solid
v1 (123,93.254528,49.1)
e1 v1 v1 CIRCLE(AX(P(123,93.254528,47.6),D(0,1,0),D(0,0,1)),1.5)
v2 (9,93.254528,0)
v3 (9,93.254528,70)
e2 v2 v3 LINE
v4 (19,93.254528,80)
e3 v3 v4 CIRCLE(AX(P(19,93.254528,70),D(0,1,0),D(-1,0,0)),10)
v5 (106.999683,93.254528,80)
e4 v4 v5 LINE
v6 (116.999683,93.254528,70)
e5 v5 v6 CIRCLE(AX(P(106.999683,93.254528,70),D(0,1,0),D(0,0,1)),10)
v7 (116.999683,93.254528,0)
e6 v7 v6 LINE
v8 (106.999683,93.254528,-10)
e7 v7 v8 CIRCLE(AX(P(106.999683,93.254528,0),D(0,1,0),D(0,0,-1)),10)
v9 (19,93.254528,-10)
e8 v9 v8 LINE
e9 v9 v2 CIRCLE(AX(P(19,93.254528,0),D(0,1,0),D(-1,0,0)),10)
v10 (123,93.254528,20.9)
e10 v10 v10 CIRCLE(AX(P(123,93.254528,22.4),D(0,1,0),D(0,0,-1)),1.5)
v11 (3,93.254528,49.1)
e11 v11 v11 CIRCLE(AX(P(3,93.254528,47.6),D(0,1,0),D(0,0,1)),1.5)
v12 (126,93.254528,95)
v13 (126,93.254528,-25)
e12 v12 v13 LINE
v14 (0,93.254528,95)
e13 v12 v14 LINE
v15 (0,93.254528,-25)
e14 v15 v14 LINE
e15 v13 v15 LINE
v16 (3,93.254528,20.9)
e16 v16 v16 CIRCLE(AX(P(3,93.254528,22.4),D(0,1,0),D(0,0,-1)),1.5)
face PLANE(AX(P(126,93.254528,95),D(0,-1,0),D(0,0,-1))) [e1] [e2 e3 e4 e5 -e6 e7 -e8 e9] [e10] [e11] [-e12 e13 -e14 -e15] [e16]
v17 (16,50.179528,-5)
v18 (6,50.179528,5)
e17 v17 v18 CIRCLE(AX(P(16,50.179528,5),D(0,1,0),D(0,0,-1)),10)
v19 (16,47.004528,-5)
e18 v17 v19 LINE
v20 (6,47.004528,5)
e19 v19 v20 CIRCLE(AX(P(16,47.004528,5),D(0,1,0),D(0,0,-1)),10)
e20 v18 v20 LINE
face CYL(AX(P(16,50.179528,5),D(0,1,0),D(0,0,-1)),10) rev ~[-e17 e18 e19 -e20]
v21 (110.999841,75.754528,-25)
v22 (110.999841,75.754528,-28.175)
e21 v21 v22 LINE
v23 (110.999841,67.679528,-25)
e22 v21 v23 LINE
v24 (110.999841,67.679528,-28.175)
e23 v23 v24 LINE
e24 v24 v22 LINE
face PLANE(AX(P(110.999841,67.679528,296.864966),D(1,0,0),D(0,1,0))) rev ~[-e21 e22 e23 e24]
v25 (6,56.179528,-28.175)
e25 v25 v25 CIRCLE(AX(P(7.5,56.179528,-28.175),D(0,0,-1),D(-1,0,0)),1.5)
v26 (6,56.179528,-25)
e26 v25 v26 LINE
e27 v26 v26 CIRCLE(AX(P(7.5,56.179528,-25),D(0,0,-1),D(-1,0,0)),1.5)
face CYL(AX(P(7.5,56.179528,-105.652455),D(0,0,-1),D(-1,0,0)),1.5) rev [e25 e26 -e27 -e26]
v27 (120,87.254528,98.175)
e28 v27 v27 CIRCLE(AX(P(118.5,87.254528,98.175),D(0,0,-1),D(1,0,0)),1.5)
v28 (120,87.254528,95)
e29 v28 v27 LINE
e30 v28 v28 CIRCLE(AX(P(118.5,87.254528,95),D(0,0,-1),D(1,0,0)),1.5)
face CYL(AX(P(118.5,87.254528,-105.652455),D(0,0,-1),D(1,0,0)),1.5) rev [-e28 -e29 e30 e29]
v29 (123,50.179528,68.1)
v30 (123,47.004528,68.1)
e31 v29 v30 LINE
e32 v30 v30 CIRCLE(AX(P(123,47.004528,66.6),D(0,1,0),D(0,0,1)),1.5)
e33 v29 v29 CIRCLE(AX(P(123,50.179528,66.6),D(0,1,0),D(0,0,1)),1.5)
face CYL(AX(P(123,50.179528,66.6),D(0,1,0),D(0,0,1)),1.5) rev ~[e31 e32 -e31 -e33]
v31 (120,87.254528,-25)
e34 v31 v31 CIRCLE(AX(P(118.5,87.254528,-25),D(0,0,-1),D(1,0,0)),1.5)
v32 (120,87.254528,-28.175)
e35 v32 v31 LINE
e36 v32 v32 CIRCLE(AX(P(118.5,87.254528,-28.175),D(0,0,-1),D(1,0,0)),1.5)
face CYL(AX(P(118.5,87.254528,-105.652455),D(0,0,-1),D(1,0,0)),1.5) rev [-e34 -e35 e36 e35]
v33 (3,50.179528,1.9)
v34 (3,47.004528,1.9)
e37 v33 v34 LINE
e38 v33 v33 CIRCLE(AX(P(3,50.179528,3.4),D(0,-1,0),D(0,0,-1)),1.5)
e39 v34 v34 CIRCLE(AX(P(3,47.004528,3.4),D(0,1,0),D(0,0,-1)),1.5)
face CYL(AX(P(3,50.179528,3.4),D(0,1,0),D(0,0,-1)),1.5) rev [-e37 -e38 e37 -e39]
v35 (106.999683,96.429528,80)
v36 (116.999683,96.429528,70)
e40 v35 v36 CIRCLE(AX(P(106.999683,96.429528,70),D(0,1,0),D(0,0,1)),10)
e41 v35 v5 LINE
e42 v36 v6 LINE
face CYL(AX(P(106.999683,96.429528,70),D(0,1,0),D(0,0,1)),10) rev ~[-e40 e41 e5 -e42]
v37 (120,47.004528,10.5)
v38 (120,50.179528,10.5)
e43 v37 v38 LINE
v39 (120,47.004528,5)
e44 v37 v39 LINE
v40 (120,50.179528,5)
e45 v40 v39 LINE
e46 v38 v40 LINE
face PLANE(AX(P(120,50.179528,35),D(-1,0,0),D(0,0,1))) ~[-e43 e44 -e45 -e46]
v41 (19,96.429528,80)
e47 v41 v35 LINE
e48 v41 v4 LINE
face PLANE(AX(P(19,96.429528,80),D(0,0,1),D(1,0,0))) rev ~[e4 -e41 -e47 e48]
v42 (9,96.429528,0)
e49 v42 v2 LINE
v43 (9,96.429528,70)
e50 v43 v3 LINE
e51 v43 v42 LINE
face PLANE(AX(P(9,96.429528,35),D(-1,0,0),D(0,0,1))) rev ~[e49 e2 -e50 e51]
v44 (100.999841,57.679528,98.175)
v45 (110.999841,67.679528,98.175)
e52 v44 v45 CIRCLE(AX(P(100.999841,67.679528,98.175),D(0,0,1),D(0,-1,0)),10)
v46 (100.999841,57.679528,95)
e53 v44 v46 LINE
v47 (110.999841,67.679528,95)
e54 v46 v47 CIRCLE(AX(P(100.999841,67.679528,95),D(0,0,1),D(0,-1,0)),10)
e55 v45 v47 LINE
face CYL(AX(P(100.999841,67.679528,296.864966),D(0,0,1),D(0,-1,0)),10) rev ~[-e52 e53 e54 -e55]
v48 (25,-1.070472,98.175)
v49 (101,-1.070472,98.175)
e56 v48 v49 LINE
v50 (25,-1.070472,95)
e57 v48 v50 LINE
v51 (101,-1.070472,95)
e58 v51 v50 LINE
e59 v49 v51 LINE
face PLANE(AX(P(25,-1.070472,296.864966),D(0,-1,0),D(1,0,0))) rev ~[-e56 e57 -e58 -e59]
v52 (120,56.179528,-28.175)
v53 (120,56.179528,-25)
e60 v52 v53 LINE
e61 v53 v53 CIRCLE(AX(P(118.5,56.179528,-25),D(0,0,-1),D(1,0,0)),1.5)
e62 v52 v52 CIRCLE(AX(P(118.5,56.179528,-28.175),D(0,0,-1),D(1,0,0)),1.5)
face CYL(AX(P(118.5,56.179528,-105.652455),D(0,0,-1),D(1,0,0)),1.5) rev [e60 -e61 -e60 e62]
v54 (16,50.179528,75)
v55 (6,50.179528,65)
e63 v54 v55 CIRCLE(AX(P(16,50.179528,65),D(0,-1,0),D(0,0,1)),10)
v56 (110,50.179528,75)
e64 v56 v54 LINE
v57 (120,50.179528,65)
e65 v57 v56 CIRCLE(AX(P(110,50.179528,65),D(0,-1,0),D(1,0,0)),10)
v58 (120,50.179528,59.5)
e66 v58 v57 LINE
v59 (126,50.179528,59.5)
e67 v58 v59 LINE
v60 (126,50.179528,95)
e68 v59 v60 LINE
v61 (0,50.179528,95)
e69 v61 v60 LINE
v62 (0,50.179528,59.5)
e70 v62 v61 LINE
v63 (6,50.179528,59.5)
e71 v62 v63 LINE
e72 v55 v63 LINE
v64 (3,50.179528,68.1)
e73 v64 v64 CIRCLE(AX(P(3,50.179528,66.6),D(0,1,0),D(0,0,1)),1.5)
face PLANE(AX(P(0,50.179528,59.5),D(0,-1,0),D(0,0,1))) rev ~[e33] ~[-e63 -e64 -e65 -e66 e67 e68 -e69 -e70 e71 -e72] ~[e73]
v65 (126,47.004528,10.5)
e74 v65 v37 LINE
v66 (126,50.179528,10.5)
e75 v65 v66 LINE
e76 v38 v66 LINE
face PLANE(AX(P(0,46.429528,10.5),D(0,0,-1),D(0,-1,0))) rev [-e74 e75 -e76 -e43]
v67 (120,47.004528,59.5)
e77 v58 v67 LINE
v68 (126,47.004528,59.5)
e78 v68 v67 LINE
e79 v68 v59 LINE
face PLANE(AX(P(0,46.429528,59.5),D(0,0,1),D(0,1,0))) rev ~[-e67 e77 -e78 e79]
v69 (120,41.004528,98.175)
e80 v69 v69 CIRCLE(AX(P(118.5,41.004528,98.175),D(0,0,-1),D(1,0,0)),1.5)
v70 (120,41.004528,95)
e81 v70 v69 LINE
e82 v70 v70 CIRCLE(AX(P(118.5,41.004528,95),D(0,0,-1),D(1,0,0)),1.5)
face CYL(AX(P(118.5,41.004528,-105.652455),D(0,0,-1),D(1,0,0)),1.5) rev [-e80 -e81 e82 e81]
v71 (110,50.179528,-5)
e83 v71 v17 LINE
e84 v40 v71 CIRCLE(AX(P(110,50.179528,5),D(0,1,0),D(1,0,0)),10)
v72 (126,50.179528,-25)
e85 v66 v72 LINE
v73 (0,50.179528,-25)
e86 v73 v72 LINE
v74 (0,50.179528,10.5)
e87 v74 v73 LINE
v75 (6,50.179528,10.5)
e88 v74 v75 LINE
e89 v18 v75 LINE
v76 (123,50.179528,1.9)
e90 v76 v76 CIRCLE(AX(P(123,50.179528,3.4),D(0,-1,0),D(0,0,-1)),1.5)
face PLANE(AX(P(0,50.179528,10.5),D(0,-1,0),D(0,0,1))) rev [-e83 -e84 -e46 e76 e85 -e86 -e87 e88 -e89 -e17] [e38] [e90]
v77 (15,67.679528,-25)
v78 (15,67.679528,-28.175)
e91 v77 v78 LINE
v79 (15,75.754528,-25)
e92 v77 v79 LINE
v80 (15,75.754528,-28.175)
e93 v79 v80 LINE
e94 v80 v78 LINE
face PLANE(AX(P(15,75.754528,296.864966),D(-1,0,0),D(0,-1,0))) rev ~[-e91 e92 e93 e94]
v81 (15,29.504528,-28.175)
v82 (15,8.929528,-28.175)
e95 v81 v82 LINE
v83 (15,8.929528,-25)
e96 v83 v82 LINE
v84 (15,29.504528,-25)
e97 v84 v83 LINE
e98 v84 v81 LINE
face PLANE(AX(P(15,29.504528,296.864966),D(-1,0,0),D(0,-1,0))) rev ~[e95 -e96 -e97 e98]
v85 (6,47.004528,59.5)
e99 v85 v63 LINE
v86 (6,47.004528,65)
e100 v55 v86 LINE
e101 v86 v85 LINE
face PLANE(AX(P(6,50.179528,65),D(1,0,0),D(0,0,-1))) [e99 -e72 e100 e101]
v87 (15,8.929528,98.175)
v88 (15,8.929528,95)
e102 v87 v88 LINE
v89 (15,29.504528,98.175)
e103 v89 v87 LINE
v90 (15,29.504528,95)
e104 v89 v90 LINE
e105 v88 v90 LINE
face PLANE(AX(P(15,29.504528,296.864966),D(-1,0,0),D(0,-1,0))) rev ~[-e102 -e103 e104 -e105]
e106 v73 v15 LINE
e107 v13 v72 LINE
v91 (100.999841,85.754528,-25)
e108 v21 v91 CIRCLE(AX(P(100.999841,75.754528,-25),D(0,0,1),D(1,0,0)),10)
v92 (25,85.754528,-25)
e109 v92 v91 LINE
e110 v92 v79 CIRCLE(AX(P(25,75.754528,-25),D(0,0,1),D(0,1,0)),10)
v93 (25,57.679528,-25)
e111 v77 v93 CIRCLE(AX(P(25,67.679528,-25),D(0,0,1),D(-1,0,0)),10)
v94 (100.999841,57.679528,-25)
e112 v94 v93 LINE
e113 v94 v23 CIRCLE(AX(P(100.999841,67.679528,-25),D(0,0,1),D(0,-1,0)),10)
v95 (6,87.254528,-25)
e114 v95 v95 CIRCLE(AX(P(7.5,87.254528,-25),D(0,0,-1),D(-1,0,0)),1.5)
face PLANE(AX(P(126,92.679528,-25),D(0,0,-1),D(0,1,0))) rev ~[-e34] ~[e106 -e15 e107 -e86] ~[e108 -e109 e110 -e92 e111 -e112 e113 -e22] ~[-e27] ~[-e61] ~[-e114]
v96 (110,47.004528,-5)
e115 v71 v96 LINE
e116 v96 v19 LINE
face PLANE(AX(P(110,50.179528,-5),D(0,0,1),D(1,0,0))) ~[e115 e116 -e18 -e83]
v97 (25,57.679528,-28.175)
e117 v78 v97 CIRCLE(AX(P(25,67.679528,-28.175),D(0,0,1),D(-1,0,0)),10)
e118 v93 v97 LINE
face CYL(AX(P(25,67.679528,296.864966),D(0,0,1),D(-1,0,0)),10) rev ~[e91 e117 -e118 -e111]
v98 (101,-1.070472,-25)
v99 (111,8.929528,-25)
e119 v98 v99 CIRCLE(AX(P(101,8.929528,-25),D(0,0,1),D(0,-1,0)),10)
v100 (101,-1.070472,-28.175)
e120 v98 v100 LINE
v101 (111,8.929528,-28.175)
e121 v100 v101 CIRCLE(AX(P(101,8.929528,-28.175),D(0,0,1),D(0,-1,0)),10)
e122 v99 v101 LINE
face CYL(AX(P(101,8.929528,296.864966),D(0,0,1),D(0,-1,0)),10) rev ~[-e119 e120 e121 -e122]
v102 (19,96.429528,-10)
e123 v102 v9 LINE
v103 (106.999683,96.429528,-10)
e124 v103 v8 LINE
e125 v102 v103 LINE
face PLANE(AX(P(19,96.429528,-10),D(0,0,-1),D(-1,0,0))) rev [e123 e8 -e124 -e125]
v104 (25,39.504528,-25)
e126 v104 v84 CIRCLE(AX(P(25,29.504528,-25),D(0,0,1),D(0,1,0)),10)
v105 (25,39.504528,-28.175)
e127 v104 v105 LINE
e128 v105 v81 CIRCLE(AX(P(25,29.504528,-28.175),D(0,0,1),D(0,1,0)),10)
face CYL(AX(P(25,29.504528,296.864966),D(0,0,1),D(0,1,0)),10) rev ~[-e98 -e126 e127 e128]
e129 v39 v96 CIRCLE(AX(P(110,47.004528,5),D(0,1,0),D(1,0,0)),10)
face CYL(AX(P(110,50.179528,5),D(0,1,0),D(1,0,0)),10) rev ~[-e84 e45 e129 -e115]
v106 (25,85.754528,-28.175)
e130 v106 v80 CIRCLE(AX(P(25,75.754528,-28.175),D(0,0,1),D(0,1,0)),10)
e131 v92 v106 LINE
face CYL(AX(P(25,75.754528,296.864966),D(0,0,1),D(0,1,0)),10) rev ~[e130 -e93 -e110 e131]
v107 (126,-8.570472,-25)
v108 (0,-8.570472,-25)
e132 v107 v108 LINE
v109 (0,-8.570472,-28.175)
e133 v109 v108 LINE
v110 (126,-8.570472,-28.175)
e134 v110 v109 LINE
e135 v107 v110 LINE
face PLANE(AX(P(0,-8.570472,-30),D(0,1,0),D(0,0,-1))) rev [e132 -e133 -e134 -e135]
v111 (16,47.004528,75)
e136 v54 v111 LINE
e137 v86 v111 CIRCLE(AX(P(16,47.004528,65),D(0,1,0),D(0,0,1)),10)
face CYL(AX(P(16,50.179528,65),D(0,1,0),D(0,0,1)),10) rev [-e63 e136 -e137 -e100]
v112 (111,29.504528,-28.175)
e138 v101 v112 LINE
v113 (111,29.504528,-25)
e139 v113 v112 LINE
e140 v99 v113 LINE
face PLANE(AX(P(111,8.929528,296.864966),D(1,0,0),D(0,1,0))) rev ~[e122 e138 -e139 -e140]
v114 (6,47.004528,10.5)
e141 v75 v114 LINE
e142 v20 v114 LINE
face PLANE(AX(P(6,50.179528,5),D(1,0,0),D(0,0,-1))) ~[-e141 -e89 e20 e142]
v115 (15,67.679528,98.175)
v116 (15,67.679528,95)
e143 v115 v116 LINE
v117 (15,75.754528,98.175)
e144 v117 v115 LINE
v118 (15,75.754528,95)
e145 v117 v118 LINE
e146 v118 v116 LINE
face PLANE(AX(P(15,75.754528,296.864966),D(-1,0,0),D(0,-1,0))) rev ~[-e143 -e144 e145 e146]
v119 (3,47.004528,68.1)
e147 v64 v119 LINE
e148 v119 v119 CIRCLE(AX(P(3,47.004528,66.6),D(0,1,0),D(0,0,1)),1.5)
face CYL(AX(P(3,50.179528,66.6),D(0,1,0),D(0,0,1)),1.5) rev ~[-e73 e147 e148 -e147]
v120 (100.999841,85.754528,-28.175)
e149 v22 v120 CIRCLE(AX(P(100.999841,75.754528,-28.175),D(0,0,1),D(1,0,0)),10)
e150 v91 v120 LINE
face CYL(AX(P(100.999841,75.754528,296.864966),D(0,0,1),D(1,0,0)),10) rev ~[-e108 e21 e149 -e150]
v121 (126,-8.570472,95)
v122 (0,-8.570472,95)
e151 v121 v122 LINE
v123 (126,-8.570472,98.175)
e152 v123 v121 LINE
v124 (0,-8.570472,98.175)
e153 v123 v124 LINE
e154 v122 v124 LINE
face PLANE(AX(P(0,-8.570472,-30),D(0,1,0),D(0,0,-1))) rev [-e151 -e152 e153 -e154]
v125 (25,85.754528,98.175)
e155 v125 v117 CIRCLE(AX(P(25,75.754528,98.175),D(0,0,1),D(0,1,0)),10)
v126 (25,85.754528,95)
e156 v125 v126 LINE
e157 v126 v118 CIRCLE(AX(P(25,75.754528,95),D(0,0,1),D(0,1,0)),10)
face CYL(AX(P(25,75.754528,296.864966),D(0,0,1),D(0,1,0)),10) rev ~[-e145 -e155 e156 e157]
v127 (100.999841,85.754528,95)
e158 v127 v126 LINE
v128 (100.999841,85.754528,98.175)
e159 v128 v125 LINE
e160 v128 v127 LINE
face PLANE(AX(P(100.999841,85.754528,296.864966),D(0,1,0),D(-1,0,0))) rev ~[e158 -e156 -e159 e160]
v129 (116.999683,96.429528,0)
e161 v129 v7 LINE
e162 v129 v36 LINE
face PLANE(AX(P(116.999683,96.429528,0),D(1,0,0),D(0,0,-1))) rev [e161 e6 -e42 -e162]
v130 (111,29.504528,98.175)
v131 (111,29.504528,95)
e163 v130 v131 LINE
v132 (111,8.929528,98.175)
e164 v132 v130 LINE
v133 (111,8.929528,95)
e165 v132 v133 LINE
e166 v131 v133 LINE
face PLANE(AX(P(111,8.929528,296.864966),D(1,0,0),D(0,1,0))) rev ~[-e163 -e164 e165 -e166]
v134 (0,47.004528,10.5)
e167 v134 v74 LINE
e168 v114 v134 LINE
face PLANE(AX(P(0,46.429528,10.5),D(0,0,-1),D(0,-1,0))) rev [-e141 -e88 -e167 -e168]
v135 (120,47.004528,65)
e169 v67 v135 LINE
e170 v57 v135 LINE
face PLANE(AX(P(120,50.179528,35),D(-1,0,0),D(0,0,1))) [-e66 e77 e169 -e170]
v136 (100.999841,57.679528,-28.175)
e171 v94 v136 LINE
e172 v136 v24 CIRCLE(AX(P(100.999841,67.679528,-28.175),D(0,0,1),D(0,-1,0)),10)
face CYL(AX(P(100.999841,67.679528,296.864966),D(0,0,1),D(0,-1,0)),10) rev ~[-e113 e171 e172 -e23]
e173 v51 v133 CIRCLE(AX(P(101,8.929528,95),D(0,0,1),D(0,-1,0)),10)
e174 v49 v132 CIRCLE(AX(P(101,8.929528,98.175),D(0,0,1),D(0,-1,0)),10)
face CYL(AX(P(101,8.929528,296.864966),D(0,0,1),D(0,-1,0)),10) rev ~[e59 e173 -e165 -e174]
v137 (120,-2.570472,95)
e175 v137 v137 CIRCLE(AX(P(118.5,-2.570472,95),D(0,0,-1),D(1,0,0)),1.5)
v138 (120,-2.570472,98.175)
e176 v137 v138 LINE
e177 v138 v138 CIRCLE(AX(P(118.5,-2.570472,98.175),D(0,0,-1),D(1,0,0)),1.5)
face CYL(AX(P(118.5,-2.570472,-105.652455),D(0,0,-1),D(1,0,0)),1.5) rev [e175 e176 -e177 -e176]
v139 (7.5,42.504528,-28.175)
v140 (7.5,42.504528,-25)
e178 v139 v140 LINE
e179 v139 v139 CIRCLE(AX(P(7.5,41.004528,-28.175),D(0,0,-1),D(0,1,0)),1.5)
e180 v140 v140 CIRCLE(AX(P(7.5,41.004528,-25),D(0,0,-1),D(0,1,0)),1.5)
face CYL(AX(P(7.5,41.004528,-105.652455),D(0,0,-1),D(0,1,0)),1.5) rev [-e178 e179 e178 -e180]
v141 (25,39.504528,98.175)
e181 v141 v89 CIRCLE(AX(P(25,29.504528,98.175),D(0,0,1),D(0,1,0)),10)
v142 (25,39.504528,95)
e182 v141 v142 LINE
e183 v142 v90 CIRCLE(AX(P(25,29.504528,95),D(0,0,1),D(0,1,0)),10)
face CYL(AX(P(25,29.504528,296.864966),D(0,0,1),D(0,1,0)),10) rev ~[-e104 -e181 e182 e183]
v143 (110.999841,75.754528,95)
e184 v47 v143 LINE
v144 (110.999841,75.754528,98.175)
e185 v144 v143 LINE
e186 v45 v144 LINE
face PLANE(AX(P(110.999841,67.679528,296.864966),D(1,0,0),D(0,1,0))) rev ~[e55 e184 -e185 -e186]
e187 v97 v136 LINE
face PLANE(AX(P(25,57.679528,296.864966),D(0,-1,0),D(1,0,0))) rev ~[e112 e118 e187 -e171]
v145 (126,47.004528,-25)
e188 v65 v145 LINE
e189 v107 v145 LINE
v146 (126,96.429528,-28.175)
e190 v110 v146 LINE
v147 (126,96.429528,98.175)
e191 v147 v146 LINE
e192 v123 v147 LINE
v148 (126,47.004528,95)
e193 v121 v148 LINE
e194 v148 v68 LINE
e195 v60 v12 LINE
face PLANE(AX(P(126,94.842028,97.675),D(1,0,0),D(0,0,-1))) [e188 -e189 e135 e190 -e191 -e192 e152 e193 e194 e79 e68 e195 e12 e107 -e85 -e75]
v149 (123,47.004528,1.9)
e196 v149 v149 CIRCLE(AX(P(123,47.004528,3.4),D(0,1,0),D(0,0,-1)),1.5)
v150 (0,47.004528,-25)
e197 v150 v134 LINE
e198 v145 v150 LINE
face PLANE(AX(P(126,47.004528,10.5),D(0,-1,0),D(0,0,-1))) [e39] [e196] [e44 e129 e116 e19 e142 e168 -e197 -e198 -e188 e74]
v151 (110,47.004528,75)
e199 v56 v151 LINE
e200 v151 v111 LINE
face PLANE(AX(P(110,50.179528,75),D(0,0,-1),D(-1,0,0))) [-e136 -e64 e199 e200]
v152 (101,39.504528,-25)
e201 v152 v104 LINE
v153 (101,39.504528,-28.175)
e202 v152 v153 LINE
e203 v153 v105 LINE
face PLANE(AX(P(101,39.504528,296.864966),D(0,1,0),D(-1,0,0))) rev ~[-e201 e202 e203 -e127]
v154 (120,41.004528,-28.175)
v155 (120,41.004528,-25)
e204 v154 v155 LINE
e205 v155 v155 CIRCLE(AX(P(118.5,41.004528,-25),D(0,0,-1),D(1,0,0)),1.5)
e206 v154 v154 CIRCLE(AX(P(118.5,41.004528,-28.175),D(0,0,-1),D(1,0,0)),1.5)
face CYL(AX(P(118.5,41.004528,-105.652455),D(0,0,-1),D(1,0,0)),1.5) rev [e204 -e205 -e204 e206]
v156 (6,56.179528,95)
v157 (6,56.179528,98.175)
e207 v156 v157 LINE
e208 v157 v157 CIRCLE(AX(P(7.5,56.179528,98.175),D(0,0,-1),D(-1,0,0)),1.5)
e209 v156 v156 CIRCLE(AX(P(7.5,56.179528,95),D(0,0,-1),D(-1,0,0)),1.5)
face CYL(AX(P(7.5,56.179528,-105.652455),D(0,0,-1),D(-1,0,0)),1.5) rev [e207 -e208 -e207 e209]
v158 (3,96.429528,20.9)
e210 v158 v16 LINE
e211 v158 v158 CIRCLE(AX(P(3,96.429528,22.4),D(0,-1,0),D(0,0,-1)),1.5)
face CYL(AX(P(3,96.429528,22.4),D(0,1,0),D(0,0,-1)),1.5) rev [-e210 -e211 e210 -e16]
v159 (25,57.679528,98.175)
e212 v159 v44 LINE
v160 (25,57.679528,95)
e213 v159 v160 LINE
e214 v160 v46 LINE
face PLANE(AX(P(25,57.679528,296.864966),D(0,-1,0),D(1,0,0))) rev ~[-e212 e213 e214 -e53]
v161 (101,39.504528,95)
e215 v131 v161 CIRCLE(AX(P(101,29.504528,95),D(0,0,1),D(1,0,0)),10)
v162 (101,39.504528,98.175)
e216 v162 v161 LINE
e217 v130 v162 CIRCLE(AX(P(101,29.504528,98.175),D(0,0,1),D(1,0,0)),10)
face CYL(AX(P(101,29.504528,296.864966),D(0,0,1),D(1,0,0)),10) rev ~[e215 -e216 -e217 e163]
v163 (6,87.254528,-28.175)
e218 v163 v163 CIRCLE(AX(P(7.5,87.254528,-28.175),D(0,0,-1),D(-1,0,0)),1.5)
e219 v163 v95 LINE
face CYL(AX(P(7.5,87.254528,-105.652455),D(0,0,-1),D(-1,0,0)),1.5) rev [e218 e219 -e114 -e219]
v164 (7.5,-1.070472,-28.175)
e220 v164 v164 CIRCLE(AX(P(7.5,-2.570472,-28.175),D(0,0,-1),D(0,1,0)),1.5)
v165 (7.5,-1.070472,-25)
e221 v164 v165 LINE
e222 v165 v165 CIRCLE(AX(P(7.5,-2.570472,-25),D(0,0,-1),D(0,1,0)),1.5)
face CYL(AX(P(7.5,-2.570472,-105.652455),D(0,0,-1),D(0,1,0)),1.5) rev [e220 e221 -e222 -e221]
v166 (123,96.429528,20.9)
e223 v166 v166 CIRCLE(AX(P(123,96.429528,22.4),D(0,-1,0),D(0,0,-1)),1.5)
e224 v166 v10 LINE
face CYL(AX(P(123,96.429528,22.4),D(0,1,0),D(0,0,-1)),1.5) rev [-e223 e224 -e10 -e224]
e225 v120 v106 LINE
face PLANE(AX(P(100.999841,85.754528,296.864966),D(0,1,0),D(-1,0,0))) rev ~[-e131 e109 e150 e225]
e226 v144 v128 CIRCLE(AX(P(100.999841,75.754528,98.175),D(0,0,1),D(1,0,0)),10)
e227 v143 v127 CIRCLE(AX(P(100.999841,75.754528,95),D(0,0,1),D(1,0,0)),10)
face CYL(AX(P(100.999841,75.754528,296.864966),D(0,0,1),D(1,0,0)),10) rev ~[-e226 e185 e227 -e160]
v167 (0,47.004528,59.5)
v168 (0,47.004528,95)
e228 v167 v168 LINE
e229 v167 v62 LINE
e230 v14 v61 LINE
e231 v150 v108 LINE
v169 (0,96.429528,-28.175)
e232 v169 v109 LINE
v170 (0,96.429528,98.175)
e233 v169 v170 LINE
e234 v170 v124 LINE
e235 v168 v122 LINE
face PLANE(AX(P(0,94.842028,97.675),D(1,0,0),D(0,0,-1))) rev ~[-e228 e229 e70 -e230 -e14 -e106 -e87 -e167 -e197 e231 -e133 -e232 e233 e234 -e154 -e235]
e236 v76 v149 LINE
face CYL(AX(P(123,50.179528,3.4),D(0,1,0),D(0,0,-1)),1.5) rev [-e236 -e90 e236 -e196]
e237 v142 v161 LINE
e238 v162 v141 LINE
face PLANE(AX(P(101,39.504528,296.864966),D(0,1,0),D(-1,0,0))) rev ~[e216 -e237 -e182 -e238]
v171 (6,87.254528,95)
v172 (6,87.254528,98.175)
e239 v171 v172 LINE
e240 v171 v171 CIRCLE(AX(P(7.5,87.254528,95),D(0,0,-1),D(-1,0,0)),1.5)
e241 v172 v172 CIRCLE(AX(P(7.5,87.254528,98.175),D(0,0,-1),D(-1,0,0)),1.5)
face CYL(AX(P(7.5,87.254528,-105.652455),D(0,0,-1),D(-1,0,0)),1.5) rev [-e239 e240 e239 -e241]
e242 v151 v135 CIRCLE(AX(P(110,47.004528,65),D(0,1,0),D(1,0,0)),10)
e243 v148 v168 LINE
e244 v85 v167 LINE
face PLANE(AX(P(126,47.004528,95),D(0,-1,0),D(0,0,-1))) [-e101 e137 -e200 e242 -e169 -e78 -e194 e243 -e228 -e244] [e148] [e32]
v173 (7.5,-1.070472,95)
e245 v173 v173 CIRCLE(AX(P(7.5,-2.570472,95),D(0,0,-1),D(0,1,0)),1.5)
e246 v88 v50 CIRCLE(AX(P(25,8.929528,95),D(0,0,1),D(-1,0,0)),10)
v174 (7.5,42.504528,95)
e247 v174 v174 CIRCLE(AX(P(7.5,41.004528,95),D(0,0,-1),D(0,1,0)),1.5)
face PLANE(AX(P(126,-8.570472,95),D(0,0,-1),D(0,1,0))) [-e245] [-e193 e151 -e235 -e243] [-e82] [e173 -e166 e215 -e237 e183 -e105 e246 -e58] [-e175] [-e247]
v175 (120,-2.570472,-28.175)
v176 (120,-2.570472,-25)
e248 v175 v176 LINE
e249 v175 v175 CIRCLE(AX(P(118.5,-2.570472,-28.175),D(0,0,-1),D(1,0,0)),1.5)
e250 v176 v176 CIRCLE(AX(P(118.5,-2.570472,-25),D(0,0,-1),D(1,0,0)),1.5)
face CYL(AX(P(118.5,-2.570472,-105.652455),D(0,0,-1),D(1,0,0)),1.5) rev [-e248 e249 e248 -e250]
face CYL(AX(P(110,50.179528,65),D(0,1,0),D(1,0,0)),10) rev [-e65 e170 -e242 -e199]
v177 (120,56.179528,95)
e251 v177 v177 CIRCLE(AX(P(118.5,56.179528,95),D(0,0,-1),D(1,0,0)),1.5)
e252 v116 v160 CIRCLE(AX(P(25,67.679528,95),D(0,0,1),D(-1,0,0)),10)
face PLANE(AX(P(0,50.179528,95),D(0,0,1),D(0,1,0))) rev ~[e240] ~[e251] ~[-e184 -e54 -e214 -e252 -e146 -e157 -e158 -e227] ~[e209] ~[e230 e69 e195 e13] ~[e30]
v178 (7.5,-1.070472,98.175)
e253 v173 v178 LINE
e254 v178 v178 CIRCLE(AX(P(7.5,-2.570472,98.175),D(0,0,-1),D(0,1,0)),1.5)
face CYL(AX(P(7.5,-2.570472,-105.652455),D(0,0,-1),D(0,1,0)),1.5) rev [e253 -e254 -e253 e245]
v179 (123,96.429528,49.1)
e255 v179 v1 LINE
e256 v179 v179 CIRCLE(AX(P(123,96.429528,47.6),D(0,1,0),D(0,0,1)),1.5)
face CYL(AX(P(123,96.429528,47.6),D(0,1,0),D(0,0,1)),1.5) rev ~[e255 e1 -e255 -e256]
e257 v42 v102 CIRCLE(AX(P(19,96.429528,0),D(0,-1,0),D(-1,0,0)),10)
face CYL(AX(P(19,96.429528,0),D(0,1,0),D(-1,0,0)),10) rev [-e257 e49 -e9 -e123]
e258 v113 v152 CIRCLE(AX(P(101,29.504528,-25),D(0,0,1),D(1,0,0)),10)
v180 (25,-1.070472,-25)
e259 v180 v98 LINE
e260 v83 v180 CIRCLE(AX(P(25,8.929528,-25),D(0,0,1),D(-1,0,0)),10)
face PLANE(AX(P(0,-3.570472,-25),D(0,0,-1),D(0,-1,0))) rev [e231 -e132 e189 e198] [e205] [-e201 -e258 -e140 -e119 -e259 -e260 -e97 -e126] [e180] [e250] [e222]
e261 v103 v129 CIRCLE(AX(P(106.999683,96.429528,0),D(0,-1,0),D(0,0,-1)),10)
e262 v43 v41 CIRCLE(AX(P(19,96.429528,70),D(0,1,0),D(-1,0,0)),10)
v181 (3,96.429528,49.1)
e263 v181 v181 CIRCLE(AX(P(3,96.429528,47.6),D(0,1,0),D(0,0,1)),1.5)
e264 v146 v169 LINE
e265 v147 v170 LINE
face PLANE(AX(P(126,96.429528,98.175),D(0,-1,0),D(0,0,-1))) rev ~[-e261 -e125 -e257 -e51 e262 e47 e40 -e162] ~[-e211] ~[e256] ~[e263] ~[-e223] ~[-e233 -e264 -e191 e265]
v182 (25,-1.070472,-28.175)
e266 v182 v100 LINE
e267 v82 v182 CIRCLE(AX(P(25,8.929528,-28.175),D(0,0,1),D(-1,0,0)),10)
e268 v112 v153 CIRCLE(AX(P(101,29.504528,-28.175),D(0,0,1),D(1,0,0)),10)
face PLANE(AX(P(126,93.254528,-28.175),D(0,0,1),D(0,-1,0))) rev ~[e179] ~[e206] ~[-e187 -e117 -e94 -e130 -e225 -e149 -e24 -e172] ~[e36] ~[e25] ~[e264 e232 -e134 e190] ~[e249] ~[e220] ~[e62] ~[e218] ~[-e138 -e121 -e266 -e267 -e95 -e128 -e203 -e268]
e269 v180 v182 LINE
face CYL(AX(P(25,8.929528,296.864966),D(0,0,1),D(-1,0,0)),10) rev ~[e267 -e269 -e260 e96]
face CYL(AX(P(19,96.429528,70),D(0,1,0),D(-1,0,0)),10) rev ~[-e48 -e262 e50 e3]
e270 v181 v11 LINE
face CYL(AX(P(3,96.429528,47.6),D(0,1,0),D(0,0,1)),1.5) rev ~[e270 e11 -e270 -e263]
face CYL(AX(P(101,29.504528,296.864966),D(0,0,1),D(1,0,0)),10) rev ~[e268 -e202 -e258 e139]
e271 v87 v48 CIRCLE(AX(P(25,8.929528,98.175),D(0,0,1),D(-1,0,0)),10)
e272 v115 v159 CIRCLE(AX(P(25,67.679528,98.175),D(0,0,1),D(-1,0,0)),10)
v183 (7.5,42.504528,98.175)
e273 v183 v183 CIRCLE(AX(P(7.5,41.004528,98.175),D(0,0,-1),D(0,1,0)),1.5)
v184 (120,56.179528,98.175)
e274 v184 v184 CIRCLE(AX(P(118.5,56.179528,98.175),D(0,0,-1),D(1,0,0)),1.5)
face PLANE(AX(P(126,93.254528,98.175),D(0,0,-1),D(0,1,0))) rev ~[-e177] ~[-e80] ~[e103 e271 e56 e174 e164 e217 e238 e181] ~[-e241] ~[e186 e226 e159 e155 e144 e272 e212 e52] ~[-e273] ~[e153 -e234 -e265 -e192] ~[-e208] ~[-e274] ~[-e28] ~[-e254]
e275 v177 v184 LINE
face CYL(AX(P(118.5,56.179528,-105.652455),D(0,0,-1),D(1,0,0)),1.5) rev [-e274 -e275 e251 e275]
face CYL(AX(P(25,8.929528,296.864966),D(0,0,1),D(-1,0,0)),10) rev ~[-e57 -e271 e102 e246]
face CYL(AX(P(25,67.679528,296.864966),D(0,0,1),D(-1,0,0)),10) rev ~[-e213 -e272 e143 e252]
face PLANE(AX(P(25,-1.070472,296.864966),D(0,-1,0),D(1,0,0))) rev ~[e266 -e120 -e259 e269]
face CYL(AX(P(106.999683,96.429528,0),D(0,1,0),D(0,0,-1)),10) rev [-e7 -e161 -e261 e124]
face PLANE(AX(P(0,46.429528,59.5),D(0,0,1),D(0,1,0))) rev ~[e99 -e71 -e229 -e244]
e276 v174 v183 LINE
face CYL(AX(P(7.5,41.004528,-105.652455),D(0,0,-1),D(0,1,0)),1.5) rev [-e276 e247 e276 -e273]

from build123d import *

# Parameters (mm, degrees)
BOSS_EXTRUDE1_DEPTH     = 126
SKETCH2_R               = 1.5
CUT_EXTRUDE1_DEPTH      = 46.25
SKETCH3_R               = 1.5
CUT_EXTRUDE3_DEPTH      = 53.75
CUT_EXTRUDE6_DEPTH      = 46.25
SKETCH5_W               = 120
SKETCH5_H               = 5
SKETCH5_H_2             = 0.575
SKETCH5_W_2             = 35.5
CUT_EXTRUDE7_DEPTH      = 188.549070389
CUT_EXTRUDE8_DEPTH      = 201.864965658
CUT_EXTRUDE8_DEPTH_BACK = 201.864965658
CUT_EXTRUDE9_DEPTH      = 203.827454511
CUT_EXTRUDE9_DEPTH_BACK = 203.827454511
SKETCH7_R               = 1.5
SKETCH8_W               = 1
SKETCH8_H               = 3.175
BOSS_EXTRUDE2_DEPTH     = 126


with BuildPart() as part:
    # Sketch1 → Boss-Extrude1 (new body)
    with BuildSketch(Plane(origin=(0, 0, 0), x_dir=(0, 0, -1), z_dir=(1, 0, 0))):
        Polygon((-95, -3.570472346), (-95, 46.429527654), (-59.5, 46.429527654), (-59.5, 50.179527654), (-95, 50.179527654), (-95, 92.679527654), (-43.5, 92.679527654), (-35, 92.679527654), (-35, 96.429527654), (-43.5, 96.429527654), (-90, 96.429527654), (-100, 96.429527654), (-100, 86.429527654), (-100, -8.570472346), (-90, -8.570472346), (-35, -8.570472346), (-35, -3.570472346), align=None)
    boss_extrude1 = extrude(amount=BOSS_EXTRUDE1_DEPTH)

    # Sketch2 → Cut-Extrude1 (cut)
    with BuildSketch(Plane(origin=(0, 96.429527654, 0), x_dir=(1, 0, 0), z_dir=(0, 1, 0))):
        with Locations(Location((3, -47.6, 0), (0, 0, 270))):
            Circle(SKETCH2_R)
        with Locations(Location((123, -47.6, 0), (0, 0, 270))):
            Circle(SKETCH2_R)
    cut_extrude1 = extrude(amount=-CUT_EXTRUDE1_DEPTH, mode=Mode.SUBTRACT)

    # Sketch3 → Cut-Extrude3 (cut)
    with BuildSketch(Plane(origin=(0, 50.179527654, 0), x_dir=(1, 0, 0), z_dir=(0, 1, 0))):
        with Locations(Location((3, -66.6, 0), (0, 0, 270))):
            Circle(SKETCH3_R)
        with Locations(Location((123, -66.6, 0), (0, 0, 270))):
            Circle(SKETCH3_R)
        with BuildLine():
            Line((6, -65), (6, -35))
            Line((6, -35), (120, -35))
            Line((120, -35), (120, -65))
            ThreePointArc((120, -65), (117.071067812, -72.071067812), (110, -75))
            Line((110, -75), (16, -75))
            ThreePointArc((16, -75), (8.928932188, -72.071067812), (6, -65))
        make_face()
    cut_extrude3 = extrude(amount=-CUT_EXTRUDE3_DEPTH, mode=Mode.SUBTRACT)

    # Mirror2: Boss-Extrude1, Cut-Extrude1, Cut-Extrude3 across plane
    add(boss_extrude1.mirror(Plane(origin=(0, 0, 35), x_dir=(1, 0, 0), z_dir=(0, 0, -1))))
    add(cut_extrude1.mirror(Plane(origin=(0, 0, 35), x_dir=(1, 0, 0), z_dir=(0, 0, -1))), mode=Mode.SUBTRACT)
    add(cut_extrude3.mirror(Plane(origin=(0, 0, 35), x_dir=(1, 0, 0), z_dir=(0, 0, -1))), mode=Mode.SUBTRACT)

    # Sketch4 → Cut-Extrude6 (cut)
    with BuildSketch(Plane(origin=(0, 96.429527654, 0), x_dir=(1, 0, 0), z_dir=(0, 1, 0))):
        with BuildLine():
            Line((9, -35), (9, -70))
            ThreePointArc((9, -70), (11.928932188, -77.071067812), (19, -80))
            Line((19, -80), (106.999682888, -80))
            ThreePointArc((106.999682888, -80), (114.0707507, -77.071067812), (116.999682888, -70))
            Line((116.999682888, -70), (116.999682888, -35))
            Line((116.999682888, -35), (9, -35))
        make_face()
    cut_extrude6 = extrude(amount=-CUT_EXTRUDE6_DEPTH, mode=Mode.SUBTRACT)

    # Mirror5: Cut-Extrude6 across plane
    add(cut_extrude6.mirror(Plane(origin=(0, 0, 35), x_dir=(1, 0, 0), z_dir=(0, 0, -1))), mode=Mode.SUBTRACT)

    # Sketch5 → Cut-Extrude7 (cut, through all)
    with BuildSketch(Plane(origin=(126, 0, 0), x_dir=(0, 0, -1), z_dir=(1, 0, 0))):
        with Locations((-35, -6.070472346)):
            Rectangle(SKETCH5_W, SKETCH5_H)
        Polygon((-100, 96.429527654), (-98.175, 96.429527654), (-97.175, 96.429527654), (-97.175, 93.254527654), (-98.175, 93.254527654), (-98.175, -8.570472346), (-100, -8.570472346), align=None)
        with Locations((-35, 92.967027654)):
            Rectangle(SKETCH5_W, SKETCH5_H_2)
        with Locations((-77.25, 46.717027654)):
            Rectangle(SKETCH5_W_2, SKETCH5_H_2)
        with Locations((7.25, 46.717027654)):
            Rectangle(SKETCH5_W_2, SKETCH5_H_2)
        Polygon((28.175, 93.254527654), (28.175, -8.570472346), (30, -8.570472346), (30, 96.429527654), (28.175, 96.429527654), (27.175, 96.429527654), (27.175, 93.254527654), align=None)
    extrude(amount=-CUT_EXTRUDE7_DEPTH, mode=Mode.SUBTRACT)

    # Sketch6 → Cut-Extrude8 (cut, two sides: drawn at the far end of the back side and taken through both)
    with BuildSketch(Plane(origin=(0, 0, 95), x_dir=(-1, 0, 0), z_dir=(0, 0, -1)).offset(-CUT_EXTRUDE8_DEPTH_BACK)):
        with BuildLine():
            Line((-100.999841444, 85.754527654), (-25, 85.754527654))
            ThreePointArc((-25, 85.754527654), (-17.928932188, 82.825595466), (-15, 75.754527654))
            Line((-15, 75.754527654), (-15, 67.679527654))
            ThreePointArc((-15, 67.679527654), (-17.928932188, 60.608459842), (-25, 57.679527654))
            Line((-25, 57.679527654), (-100.999841444, 57.679527654))
            ThreePointArc((-100.999841444, 57.679527654), (-108.070909256, 60.608459842), (-110.999841444, 67.679527654))
            Line((-110.999841444, 67.679527654), (-110.999841444, 75.754527654))
            ThreePointArc((-110.999841444, 75.754527654), (-108.070909256, 82.825595466), (-100.999841444, 85.754527654))
        make_face()
        with BuildLine():
            Line((-101, 39.504527654), (-25, 39.504527654))
            ThreePointArc((-25, 39.504527654), (-17.928932188, 36.575595466), (-15, 29.504527654))
            Line((-15, 29.504527654), (-15, 8.929527654))
            ThreePointArc((-15, 8.929527654), (-17.928932188, 1.858459842), (-25, -1.070472346))
            Line((-25, -1.070472346), (-101, -1.070472346))
            ThreePointArc((-101, -1.070472346), (-108.071067812, 1.858459842), (-111, 8.929527654))
            Line((-111, 8.929527654), (-111, 29.504527654))
            ThreePointArc((-111, 29.504527654), (-108.071067812, 36.575595466), (-101, 39.504527654))
        make_face()
    extrude(amount=CUT_EXTRUDE8_DEPTH + CUT_EXTRUDE8_DEPTH_BACK, mode=Mode.SUBTRACT)

    # Sketch7 → Cut-Extrude9 (cut, two sides: drawn at the far end of the back side and taken through both)
    with BuildSketch(Plane.XY.offset(98.175).offset(-CUT_EXTRUDE9_DEPTH_BACK)):
        with Locations((118.5, 87.254527654)):
            Circle(SKETCH7_R)
        with Locations((118.5, 56.179527654)):
            Circle(SKETCH7_R)
        with Locations((118.5, 41.004527654)):
            Circle(SKETCH7_R)
        with Locations((118.5, -2.570472346)):
            Circle(SKETCH7_R)
        with Locations(Location((7.5, -2.570472346, 0), (0, 0, 90))):
            Circle(SKETCH7_R)
        with Locations(Location((7.5, 41.004527654, 0), (0, 0, 90))):
            Circle(SKETCH7_R)
        with Locations(Location((7.5, 56.179527654, 0), (0, 0, 180))):
            Circle(SKETCH7_R)
        with Locations(Location((7.5, 87.254527654, 0), (0, 0, 180))):
            Circle(SKETCH7_R)
    extrude(amount=CUT_EXTRUDE9_DEPTH + CUT_EXTRUDE9_DEPTH_BACK, mode=Mode.SUBTRACT)

    # Sketch8 → Boss-Extrude2 (add)
    with BuildSketch(Plane(origin=(126, 0, 0), x_dir=(0, 0, -1), z_dir=(1, 0, 0))):
        with Locations((-97.675, 94.842027654)):
            Rectangle(SKETCH8_W, SKETCH8_H)
        with Locations((27.675, 94.842027654)):
            Rectangle(SKETCH8_W, SKETCH8_H)
    extrude(amount=-BOSS_EXTRUDE2_DEPTH)


solid = part.part
